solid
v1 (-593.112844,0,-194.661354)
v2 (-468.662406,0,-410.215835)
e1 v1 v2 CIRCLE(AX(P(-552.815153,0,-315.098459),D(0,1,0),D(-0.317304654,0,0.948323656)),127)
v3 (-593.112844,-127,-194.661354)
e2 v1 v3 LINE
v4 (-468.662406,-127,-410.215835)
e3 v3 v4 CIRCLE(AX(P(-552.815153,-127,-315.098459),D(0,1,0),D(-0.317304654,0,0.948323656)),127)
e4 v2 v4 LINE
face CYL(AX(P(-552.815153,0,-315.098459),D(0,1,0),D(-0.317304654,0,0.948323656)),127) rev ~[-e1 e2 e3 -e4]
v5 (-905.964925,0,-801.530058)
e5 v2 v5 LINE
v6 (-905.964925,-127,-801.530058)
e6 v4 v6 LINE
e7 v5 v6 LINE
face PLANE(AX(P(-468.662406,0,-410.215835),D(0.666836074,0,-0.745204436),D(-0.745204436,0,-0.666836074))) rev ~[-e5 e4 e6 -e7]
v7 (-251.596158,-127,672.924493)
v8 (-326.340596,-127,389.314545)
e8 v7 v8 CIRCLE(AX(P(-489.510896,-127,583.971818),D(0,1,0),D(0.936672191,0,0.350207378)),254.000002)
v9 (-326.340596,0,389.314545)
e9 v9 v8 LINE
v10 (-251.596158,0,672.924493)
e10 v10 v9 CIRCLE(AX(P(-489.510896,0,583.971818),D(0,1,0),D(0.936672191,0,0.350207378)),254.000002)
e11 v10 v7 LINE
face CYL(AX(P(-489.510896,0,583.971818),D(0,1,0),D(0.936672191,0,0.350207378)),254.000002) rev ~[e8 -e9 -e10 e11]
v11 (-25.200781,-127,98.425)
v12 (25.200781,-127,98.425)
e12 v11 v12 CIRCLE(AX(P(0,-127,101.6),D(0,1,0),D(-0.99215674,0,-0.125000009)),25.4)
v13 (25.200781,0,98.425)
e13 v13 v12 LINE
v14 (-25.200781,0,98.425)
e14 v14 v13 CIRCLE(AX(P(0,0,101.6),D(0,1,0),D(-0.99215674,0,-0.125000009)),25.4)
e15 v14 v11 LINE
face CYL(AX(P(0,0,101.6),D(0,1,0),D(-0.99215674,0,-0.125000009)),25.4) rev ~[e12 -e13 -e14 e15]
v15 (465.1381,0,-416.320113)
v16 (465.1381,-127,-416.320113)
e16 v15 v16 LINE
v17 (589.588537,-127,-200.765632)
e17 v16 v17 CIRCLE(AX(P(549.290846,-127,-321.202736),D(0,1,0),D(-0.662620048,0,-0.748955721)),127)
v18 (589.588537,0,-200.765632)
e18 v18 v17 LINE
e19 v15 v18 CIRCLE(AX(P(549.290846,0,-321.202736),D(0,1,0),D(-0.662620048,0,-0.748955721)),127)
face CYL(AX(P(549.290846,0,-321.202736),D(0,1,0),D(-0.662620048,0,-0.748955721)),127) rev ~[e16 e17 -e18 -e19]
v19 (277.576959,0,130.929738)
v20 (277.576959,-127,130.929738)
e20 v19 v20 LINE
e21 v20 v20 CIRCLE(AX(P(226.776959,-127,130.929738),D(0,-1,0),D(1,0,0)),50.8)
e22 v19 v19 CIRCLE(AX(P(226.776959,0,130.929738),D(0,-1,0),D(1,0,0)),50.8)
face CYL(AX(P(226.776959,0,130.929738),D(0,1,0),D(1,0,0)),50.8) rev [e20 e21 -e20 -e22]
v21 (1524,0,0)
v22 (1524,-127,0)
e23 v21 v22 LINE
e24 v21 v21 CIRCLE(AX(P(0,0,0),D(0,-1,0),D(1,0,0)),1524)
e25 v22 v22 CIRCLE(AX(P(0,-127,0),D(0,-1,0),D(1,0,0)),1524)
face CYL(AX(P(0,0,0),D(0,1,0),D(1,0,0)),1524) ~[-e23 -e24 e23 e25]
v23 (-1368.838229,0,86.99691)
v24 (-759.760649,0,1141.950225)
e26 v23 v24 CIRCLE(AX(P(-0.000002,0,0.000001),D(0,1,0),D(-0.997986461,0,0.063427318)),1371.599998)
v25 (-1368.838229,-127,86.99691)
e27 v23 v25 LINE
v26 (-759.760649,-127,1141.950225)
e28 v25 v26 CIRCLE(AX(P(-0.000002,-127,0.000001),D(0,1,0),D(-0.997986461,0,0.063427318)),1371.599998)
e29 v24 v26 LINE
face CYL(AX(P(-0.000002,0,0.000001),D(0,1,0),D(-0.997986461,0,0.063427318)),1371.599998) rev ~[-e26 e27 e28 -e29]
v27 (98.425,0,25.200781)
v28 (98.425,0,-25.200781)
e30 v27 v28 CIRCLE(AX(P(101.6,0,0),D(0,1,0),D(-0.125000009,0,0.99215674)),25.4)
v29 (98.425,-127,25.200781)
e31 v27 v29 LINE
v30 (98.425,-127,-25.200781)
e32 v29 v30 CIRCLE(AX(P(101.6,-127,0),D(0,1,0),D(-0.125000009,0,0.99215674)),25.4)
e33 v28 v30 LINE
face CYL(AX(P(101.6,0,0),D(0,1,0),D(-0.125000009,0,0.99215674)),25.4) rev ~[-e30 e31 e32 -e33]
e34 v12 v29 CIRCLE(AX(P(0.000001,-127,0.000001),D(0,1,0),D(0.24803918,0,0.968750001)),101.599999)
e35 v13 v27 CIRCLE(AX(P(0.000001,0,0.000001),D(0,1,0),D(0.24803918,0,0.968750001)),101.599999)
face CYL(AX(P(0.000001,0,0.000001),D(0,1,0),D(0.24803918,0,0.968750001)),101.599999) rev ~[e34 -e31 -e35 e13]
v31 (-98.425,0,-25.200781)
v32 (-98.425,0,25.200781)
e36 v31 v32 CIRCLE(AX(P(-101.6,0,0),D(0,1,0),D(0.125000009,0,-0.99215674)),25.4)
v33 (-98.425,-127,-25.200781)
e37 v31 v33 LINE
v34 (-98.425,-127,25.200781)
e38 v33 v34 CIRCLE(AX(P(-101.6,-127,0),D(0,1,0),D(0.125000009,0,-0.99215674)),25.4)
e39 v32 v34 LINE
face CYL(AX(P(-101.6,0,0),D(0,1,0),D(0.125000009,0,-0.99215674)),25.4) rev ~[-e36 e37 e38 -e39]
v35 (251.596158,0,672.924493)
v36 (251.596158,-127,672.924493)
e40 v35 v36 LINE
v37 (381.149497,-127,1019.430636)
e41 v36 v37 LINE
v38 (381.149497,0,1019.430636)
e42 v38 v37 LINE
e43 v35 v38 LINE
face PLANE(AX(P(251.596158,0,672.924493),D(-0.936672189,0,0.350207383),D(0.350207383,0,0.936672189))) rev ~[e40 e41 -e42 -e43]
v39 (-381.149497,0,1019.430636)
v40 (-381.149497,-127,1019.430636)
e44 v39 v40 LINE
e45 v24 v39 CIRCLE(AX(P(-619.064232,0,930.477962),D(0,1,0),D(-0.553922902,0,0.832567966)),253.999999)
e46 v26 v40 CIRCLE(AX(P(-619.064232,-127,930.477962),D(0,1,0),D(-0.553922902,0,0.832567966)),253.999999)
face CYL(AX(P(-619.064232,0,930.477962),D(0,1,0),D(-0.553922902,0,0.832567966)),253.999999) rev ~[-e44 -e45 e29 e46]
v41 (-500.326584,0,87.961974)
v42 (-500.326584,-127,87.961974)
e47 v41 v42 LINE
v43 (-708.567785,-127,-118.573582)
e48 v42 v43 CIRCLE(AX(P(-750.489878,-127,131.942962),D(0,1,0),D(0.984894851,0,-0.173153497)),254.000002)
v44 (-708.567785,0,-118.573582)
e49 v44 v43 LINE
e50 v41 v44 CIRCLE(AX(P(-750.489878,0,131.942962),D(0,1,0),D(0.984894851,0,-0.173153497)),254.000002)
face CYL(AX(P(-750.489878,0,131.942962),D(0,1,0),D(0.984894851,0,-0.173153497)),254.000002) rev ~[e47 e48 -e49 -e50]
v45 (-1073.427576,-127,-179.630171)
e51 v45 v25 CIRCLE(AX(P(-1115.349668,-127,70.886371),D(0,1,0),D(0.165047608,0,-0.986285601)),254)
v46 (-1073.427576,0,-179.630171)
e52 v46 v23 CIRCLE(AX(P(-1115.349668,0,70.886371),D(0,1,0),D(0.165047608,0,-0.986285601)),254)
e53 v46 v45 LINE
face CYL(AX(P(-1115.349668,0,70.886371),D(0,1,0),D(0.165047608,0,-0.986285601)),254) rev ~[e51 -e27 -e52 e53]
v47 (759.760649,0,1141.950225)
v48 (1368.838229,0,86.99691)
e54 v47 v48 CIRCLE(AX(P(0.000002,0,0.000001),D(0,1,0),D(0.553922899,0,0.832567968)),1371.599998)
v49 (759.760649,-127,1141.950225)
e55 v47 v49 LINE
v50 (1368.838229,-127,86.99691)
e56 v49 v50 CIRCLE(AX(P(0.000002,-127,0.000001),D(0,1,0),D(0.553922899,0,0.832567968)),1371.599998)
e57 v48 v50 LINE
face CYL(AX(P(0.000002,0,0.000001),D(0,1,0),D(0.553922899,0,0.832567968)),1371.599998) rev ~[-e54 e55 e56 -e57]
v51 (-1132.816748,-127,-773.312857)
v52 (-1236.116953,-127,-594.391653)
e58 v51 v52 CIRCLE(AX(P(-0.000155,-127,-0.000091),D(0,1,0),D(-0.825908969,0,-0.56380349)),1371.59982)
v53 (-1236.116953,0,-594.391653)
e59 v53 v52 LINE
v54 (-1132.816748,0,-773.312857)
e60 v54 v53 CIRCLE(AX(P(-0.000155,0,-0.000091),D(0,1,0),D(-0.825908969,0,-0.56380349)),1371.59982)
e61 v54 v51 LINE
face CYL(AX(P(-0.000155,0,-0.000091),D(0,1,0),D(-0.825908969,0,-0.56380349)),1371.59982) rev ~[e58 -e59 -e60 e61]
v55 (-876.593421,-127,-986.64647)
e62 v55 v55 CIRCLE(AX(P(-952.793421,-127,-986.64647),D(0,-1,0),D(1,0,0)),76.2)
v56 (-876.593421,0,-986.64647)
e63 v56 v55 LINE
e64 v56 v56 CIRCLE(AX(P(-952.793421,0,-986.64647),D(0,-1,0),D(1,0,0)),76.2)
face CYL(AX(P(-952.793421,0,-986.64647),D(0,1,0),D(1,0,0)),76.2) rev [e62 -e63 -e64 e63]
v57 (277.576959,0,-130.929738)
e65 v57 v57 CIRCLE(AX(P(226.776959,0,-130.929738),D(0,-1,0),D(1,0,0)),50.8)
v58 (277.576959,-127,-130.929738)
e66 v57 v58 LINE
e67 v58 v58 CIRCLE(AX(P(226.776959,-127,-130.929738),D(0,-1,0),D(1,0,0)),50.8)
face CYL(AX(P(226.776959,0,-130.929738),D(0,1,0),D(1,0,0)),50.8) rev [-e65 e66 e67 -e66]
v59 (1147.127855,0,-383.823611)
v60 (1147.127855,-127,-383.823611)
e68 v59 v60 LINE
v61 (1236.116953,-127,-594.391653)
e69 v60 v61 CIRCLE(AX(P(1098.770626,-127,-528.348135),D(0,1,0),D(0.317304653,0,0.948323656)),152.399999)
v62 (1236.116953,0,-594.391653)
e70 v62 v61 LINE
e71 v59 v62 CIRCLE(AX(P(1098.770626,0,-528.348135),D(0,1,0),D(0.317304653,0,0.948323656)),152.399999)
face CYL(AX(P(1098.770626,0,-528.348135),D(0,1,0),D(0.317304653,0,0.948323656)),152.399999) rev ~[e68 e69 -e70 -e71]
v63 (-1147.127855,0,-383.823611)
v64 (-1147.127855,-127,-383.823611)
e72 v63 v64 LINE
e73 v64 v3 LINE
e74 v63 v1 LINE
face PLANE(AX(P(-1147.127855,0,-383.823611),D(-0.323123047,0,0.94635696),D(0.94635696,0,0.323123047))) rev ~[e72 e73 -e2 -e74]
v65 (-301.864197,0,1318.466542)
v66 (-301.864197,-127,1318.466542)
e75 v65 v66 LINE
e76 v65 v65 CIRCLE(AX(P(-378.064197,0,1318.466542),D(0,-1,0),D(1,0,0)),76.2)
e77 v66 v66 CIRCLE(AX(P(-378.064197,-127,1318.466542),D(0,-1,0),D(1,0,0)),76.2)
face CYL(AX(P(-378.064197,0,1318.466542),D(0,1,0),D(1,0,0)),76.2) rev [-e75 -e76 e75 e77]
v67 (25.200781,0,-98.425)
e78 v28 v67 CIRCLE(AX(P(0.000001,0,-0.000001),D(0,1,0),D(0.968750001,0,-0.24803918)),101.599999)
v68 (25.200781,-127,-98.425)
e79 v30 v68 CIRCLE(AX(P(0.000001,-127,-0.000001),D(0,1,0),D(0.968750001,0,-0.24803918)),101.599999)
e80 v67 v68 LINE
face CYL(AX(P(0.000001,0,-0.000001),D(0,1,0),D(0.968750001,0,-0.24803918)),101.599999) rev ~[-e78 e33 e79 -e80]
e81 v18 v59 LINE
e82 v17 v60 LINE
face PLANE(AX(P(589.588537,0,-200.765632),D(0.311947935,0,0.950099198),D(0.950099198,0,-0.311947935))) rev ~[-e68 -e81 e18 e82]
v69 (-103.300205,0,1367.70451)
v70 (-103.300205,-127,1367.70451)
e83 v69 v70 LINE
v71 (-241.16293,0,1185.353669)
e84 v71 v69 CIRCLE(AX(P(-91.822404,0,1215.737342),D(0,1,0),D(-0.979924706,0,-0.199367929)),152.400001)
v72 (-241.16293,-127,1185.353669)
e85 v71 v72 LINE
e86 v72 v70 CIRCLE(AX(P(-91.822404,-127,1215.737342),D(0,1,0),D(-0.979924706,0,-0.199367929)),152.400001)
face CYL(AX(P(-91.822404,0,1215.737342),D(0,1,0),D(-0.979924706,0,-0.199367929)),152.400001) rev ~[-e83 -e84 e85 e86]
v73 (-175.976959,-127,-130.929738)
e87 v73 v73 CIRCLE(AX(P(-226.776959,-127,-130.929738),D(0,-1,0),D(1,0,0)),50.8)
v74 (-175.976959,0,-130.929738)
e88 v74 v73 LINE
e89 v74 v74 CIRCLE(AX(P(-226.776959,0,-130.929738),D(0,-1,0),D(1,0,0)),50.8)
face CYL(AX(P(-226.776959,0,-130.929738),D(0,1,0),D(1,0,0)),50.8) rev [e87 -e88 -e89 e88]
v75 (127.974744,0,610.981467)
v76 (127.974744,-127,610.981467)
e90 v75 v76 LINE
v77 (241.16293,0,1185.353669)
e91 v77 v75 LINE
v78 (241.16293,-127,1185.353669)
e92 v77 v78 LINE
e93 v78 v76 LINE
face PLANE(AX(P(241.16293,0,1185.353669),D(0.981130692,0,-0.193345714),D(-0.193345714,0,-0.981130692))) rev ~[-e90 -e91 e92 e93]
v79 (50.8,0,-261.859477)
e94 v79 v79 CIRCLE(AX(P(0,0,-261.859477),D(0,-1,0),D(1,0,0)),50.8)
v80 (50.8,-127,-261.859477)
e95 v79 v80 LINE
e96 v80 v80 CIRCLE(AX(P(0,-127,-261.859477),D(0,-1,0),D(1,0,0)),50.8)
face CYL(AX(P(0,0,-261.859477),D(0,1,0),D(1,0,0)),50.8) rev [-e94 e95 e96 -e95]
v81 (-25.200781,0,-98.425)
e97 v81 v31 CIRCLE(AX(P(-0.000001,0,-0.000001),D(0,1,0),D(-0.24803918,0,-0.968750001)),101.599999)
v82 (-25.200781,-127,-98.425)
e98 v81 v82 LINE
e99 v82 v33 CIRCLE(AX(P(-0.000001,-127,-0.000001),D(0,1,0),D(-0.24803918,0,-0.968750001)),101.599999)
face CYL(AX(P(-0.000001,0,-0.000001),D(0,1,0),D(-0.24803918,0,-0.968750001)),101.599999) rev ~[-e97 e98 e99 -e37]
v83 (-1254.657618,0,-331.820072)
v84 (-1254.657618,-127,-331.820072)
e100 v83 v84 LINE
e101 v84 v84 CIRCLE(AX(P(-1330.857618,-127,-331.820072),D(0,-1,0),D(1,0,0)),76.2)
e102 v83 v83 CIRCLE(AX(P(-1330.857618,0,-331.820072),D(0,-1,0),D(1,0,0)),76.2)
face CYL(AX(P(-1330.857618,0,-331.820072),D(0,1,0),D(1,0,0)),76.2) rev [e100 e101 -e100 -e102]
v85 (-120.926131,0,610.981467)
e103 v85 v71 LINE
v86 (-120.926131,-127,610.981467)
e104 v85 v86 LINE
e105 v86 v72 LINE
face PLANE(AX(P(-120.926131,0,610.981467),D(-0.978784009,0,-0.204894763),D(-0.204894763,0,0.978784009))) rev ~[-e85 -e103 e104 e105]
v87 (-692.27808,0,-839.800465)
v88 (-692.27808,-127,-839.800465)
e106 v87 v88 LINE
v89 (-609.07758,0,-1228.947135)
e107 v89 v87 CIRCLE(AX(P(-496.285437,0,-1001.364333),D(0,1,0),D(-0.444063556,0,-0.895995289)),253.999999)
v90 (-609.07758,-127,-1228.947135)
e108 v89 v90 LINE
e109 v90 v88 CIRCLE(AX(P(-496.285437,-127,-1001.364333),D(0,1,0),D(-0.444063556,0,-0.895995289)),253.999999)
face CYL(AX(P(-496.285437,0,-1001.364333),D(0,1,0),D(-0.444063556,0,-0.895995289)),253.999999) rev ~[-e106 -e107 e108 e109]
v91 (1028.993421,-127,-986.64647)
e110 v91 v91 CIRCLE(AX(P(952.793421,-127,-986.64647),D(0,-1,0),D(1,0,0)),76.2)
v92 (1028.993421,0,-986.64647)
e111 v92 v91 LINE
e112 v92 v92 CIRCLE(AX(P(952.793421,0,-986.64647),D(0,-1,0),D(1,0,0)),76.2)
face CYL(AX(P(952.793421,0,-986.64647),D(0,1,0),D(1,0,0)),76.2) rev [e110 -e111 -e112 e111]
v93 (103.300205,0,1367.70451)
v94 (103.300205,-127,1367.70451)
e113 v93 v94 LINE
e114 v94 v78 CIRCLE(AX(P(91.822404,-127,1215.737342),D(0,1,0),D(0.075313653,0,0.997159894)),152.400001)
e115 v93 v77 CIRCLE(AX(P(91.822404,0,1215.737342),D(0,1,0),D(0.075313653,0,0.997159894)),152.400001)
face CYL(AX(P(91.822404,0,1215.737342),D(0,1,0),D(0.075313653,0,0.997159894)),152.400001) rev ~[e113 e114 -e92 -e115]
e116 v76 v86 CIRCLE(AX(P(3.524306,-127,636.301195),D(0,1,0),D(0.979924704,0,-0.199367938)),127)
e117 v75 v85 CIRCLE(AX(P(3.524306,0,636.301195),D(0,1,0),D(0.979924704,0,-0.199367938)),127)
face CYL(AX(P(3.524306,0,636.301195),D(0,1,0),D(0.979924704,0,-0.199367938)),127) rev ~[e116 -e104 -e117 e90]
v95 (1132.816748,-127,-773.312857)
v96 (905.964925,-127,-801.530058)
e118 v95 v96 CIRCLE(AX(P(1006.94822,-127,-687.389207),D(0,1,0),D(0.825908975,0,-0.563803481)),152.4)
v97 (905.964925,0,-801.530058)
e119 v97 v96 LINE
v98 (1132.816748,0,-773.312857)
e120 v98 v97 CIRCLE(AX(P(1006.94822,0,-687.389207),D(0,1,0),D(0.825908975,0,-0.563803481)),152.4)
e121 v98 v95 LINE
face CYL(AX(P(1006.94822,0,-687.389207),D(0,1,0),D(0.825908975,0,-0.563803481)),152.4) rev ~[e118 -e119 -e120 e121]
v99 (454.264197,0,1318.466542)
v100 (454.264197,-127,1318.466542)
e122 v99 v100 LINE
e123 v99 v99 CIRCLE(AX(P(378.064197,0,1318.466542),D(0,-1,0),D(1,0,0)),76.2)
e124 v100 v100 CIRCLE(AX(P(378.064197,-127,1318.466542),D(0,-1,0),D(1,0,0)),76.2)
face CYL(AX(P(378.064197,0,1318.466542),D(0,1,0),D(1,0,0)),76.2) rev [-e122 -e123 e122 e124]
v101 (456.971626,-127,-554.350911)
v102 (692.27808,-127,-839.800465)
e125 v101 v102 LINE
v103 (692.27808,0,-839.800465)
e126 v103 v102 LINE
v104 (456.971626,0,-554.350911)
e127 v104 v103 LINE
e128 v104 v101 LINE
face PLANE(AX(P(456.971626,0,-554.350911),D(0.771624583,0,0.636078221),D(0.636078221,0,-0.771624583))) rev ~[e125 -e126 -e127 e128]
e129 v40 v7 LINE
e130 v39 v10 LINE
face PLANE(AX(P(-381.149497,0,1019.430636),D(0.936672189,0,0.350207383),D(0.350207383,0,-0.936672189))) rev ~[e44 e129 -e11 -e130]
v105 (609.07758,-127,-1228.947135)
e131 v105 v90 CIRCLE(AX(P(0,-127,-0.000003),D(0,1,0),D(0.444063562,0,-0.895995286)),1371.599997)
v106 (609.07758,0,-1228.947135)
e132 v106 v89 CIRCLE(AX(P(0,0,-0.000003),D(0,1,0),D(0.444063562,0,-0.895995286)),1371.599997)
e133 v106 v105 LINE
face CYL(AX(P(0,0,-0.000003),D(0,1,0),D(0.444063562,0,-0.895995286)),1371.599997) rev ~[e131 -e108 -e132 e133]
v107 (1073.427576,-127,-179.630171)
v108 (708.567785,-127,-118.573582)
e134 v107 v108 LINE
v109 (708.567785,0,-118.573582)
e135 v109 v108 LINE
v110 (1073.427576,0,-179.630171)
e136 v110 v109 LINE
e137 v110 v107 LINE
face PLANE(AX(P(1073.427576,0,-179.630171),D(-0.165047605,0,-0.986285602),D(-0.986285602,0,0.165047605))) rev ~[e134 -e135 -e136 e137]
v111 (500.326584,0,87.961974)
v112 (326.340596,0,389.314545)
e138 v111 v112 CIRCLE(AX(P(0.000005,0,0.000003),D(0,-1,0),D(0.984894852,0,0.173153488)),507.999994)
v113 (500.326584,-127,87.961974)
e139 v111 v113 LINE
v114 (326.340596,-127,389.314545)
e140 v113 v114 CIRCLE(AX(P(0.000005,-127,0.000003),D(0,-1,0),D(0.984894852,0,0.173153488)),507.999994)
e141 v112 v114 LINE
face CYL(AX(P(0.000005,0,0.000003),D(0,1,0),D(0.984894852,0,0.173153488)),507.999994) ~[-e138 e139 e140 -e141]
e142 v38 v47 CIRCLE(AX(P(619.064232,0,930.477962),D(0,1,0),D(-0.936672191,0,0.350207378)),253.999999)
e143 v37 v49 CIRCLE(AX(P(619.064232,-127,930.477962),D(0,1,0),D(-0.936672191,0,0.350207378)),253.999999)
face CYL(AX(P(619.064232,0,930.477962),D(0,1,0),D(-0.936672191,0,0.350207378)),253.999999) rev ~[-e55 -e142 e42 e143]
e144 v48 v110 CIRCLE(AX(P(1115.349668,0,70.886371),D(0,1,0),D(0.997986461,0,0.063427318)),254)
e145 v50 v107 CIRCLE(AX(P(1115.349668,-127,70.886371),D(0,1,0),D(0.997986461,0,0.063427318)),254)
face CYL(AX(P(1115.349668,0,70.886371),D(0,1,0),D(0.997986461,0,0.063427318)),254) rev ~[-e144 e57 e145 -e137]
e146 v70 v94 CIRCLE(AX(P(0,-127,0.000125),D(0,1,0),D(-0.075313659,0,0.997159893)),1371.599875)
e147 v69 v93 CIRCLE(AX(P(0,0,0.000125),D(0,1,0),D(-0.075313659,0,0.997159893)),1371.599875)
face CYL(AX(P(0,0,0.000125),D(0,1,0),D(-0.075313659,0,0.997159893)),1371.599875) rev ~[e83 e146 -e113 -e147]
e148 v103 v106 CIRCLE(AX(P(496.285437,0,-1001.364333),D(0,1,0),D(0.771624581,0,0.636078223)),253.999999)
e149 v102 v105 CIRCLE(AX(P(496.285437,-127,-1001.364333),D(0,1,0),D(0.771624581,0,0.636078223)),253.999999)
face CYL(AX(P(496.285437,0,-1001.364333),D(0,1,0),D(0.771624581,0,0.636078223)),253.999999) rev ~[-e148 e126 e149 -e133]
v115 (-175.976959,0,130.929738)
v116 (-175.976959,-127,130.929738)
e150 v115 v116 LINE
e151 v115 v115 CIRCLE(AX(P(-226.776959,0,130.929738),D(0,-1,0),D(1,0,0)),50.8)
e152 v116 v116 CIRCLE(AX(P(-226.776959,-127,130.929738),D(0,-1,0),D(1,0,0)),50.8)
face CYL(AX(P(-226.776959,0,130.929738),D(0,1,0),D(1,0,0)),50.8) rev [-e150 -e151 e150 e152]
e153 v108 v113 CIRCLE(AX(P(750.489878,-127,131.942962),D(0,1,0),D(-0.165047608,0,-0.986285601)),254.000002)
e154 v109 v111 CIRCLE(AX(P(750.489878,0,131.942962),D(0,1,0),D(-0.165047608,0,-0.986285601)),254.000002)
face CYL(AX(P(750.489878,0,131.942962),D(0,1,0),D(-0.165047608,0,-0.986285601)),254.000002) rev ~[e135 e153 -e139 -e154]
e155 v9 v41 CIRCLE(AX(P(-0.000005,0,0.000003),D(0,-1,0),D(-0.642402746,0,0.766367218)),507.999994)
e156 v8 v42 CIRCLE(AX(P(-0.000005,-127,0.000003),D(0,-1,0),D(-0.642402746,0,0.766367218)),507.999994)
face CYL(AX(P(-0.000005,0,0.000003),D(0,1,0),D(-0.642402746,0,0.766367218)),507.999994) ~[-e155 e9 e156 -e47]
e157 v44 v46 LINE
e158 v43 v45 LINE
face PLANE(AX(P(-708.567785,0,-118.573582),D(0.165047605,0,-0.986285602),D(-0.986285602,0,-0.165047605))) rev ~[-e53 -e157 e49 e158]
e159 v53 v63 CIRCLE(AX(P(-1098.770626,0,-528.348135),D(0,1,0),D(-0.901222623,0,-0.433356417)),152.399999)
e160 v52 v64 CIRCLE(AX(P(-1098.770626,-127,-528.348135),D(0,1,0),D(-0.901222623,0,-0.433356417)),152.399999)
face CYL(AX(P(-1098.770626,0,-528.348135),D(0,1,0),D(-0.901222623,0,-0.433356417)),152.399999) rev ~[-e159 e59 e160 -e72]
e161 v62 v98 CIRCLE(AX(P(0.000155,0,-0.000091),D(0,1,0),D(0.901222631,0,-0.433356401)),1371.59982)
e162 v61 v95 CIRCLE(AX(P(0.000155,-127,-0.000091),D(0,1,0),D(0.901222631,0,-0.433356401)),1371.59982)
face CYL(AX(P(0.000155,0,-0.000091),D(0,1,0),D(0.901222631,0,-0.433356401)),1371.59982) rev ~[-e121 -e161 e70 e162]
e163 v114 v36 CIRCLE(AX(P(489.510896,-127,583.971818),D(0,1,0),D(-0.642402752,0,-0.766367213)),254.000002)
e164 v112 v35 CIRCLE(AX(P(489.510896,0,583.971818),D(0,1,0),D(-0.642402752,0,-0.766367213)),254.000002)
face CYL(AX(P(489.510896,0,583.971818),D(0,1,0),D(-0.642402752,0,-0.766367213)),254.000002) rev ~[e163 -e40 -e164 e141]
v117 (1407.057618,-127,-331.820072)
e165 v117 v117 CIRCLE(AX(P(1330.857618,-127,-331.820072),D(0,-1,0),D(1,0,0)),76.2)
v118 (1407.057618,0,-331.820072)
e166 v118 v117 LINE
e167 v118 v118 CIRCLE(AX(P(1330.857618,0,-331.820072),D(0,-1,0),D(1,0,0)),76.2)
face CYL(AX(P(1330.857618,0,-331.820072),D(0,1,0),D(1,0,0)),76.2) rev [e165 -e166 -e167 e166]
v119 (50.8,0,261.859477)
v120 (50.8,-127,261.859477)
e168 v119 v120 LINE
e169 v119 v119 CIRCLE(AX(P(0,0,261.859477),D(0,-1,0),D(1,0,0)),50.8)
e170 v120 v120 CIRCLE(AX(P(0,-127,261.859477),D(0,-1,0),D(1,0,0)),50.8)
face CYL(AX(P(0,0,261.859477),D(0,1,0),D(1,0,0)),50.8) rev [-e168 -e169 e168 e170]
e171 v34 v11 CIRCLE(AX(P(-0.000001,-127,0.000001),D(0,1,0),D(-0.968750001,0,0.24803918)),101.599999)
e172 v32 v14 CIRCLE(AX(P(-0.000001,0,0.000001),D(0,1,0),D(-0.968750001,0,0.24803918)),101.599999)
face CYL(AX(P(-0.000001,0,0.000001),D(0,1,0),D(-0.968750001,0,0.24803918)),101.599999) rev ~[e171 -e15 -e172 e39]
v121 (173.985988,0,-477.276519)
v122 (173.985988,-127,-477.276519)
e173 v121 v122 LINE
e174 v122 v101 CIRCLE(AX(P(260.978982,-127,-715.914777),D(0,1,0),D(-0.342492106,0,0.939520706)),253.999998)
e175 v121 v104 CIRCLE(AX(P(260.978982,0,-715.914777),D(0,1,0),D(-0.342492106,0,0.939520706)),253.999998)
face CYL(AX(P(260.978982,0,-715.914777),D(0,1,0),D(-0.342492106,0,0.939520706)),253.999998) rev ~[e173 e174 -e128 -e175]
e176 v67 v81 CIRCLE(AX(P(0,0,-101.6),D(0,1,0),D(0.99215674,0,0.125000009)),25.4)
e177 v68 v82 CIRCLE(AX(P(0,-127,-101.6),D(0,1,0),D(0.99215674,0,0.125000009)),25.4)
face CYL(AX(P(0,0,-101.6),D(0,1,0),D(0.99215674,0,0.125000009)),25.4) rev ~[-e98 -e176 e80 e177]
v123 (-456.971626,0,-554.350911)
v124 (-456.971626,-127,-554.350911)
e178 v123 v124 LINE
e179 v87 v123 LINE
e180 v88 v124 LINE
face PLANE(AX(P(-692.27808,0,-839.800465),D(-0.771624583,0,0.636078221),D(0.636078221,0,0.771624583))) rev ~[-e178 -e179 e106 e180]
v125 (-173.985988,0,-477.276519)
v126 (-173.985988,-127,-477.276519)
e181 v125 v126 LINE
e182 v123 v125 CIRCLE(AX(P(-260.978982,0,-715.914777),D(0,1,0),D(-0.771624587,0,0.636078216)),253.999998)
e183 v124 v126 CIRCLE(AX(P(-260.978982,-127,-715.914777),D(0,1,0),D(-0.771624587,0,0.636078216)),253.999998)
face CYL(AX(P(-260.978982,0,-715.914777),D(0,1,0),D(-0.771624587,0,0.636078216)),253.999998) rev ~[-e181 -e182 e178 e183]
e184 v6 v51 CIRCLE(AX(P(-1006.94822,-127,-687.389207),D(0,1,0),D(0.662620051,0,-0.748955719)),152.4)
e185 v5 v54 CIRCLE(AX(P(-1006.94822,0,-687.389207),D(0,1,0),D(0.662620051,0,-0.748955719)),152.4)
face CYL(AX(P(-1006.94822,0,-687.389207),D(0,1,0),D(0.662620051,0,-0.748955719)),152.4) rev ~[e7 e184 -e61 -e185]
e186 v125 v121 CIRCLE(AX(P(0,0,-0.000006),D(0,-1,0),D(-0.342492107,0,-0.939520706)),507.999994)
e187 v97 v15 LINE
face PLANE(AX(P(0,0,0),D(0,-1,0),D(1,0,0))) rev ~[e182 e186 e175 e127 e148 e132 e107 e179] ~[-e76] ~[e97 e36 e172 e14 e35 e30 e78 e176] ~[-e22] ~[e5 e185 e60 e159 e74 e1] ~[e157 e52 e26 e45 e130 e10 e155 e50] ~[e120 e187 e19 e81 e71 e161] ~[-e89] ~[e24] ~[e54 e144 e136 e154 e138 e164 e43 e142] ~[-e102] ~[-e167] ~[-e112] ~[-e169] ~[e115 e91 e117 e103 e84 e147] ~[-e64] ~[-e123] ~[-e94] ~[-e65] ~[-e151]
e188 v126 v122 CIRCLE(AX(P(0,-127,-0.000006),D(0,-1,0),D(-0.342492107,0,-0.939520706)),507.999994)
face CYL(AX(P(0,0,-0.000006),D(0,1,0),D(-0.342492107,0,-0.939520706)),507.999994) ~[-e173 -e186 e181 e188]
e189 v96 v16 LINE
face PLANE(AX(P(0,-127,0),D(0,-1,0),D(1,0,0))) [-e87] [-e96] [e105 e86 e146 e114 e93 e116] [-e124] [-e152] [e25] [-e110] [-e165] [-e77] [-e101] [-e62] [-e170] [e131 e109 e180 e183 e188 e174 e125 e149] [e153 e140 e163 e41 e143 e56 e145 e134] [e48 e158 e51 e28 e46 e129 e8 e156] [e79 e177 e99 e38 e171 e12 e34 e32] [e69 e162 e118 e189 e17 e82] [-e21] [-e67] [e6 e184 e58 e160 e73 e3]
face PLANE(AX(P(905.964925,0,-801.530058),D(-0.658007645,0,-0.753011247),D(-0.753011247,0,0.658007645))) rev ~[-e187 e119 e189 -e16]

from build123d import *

# Parameters (mm, degrees)
F0_R     = 1524
F0_R_2   = 76.2
F0_R_3   = 381
F0_R_4   = 50.8
F1_DEPTH = 127


with BuildPart() as f1:
    # F0 (on Front) → F1 (new body)
    with BuildSketch(Plane.XZ):
        Circle(F0_R)
        with Locations((-952.793421, -986.64647)):
            Circle(F0_R_2, mode=Mode.SUBTRACT)
        with BuildLine():
            ThreePointArc((-1132.816748, -773.312857), (-1187.840444, -685.8), (-1236.116953, -594.391653))
            ThreePointArc((-1236.116953, -594.391653), (-1239.14932, -469.02207), (-1147.127855, -383.823611))
            Line((-1147.127855, -383.823611), (-593.112844, -194.661354))
            ThreePointArc((-593.112844, -194.661354), (-442.829926, -251.598459), (-468.662406, -410.215835))
            Line((-468.662406, -410.215835), (-905.964925, -801.530058))
            ThreePointArc((-905.964925, -801.530058), (-1025.759688, -838.623755), (-1132.816748, -773.312857))
        make_face(mode=Mode.SUBTRACT)
        with Locations((-1330.857618, -331.820072)):
            Circle(F0_R_2, mode=Mode.SUBTRACT)
        with BuildLine():
            ThreePointArc((-456.971626, -554.350911), (-327.727364, -470.842027), (-173.985988, -477.276519))
            ThreePointArc((-173.985988, -477.276519), (0, -508), (173.985988, -477.276519))
            ThreePointArc((173.985988, -477.276519), (327.727364, -470.842027), (456.971626, -554.350911))
            Line((456.971626, -554.350911), (692.27808, -839.800465))
            ThreePointArc((692.27808, -839.800465), (744.671817, -1054.469942), (609.07758, -1228.947135))
            ThreePointArc((609.07758, -1228.947135), (0, -1371.6), (-609.07758, -1228.947135))
            ThreePointArc((-609.07758, -1228.947135), (-744.671817, -1054.469942), (-692.27808, -839.800465))
            Line((-692.27808, -839.800465), (-456.971626, -554.350911))
        make_face(mode=Mode.SUBTRACT)
        with Locations((952.793421, -986.64647)):
            Circle(F0_R_2, mode=Mode.SUBTRACT)
        with BuildLine():
            ThreePointArc((1236.116953, -594.391653), (1187.840444, -685.8), (1132.816748, -773.312857))
            ThreePointArc((1132.816748, -773.312857), (1025.759688, -838.623755), (905.964925, -801.530058))
            Line((905.964925, -801.530058), (465.1381, -416.320113))
            ThreePointArc((465.1381, -416.320113), (439.30562, -257.702736), (589.588537, -200.765632))
            Line((589.588537, -200.765632), (1147.127855, -383.823611))
            ThreePointArc((1147.127855, -383.823611), (1239.14932, -469.02207), (1236.116953, -594.391653))
        make_face(mode=Mode.SUBTRACT)
        with Locations((1330.857618, -331.820072)):
            Circle(F0_R_2, mode=Mode.SUBTRACT)
        with BuildLine():
            ThreePointArc((-500.326584, 87.961974), (-571.624839, -48.399209), (-708.567785, -118.573582))
            Line((-708.567785, -118.573582), (-1073.427576, -179.630171))
            ThreePointArc((-1073.427576, -179.630171), (-1285.533665, -117.66974), (-1368.838229, 86.99691))
            ThreePointArc((-1368.838229, 86.99691), (-1187.840444, 685.8), (-759.760649, 1141.950225))
            ThreePointArc((-759.760649, 1141.950225), (-540.861849, 1172.139682), (-381.149497, 1019.430636))
            Line((-381.149497, 1019.430636), (-251.596158, 672.924493))
            ThreePointArc((-251.596158, 672.924493), (-243.897475, 519.241236), (-326.340596, 389.314545))
            ThreePointArc((-326.340596, 389.314545), (-439.940905, 254), (-500.326584, 87.961974))
        make_face(mode=Mode.SUBTRACT)
        with BuildLine():
            ThreePointArc((103.300205, 1367.70451), (213.389632, 1307.645825), (241.16293, 1185.353669))
            Line((241.16293, 1185.353669), (127.974744, 610.981467))
            ThreePointArc((127.974744, 610.981467), (3.524306, 509.301195), (-120.926131, 610.981467))
            Line((-120.926131, 610.981467), (-241.16293, 1185.353669))
            ThreePointArc((-241.16293, 1185.353669), (-213.389632, 1307.645825), (-103.300205, 1367.70451))
            ThreePointArc((-103.300205, 1367.70451), (0, 1371.6), (103.300205, 1367.70451))
        make_face(mode=Mode.SUBTRACT)
        with Locations((-378.064197, 1318.466542)):
            Circle(F0_R_2, mode=Mode.SUBTRACT)
        Circle(F0_R_3, mode=Mode.SUBTRACT)
        with BuildLine():
            ThreePointArc((326.340596, 389.314545), (243.897475, 519.241236), (251.596158, 672.924493))
            Line((251.596158, 672.924493), (381.149497, 1019.430636))
            ThreePointArc((381.149497, 1019.430636), (540.861849, 1172.139682), (759.760649, 1141.950225))
            ThreePointArc((759.760649, 1141.950225), (1187.840444, 685.8), (1368.838229, 86.99691))
            ThreePointArc((1368.838229, 86.99691), (1285.533665, -117.66974), (1073.427576, -179.630171))
            Line((1073.427576, -179.630171), (708.567785, -118.573582))
            ThreePointArc((708.567785, -118.573582), (571.624839, -48.399209), (500.326584, 87.961974))
            ThreePointArc((500.326584, 87.961974), (439.940905, 254), (326.340596, 389.314545))
        make_face(mode=Mode.SUBTRACT)
        with Locations((378.064197, 1318.466542)):
            Circle(F0_R_2, mode=Mode.SUBTRACT)
        Circle(F0_R_3)
        with Locations((-226.776959, -130.929738)):
            Circle(F0_R_4, mode=Mode.SUBTRACT)
        with Locations((0, -261.859477)):
            Circle(F0_R_4, mode=Mode.SUBTRACT)
        with Locations((226.776959, -130.929738)):
            Circle(F0_R_4, mode=Mode.SUBTRACT)
        with Locations((-226.776959, 130.929738)):
            Circle(F0_R_4, mode=Mode.SUBTRACT)
        with BuildLine():
            ThreePointArc((-98.425, 25.200781), (-71.842049, 71.842049), (-25.200781, 98.425))
            ThreePointArc((-25.200781, 98.425), (0, 127), (25.200781, 98.425))
            ThreePointArc((25.200781, 98.425), (71.842049, 71.842049), (98.425, 25.200781))
            ThreePointArc((98.425, 25.200781), (127, 0), (98.425, -25.200781))
            ThreePointArc((98.425, -25.200781), (71.842049, -71.842049), (25.200781, -98.425))
            ThreePointArc((25.200781, -98.425), (0, -127), (-25.200781, -98.425))
            ThreePointArc((-25.200781, -98.425), (-71.842049, -71.842049), (-98.425, -25.200781))
            ThreePointArc((-98.425, -25.200781), (-127, 0), (-98.425, 25.200781))
        make_face(mode=Mode.SUBTRACT)
        with Locations((226.776959, 130.929738)):
            Circle(F0_R_4, mode=Mode.SUBTRACT)
        with Locations((0, 261.859477)):
            Circle(F0_R_4, mode=Mode.SUBTRACT)
    extrude(amount=F1_DEPTH)


solid = f1.part
